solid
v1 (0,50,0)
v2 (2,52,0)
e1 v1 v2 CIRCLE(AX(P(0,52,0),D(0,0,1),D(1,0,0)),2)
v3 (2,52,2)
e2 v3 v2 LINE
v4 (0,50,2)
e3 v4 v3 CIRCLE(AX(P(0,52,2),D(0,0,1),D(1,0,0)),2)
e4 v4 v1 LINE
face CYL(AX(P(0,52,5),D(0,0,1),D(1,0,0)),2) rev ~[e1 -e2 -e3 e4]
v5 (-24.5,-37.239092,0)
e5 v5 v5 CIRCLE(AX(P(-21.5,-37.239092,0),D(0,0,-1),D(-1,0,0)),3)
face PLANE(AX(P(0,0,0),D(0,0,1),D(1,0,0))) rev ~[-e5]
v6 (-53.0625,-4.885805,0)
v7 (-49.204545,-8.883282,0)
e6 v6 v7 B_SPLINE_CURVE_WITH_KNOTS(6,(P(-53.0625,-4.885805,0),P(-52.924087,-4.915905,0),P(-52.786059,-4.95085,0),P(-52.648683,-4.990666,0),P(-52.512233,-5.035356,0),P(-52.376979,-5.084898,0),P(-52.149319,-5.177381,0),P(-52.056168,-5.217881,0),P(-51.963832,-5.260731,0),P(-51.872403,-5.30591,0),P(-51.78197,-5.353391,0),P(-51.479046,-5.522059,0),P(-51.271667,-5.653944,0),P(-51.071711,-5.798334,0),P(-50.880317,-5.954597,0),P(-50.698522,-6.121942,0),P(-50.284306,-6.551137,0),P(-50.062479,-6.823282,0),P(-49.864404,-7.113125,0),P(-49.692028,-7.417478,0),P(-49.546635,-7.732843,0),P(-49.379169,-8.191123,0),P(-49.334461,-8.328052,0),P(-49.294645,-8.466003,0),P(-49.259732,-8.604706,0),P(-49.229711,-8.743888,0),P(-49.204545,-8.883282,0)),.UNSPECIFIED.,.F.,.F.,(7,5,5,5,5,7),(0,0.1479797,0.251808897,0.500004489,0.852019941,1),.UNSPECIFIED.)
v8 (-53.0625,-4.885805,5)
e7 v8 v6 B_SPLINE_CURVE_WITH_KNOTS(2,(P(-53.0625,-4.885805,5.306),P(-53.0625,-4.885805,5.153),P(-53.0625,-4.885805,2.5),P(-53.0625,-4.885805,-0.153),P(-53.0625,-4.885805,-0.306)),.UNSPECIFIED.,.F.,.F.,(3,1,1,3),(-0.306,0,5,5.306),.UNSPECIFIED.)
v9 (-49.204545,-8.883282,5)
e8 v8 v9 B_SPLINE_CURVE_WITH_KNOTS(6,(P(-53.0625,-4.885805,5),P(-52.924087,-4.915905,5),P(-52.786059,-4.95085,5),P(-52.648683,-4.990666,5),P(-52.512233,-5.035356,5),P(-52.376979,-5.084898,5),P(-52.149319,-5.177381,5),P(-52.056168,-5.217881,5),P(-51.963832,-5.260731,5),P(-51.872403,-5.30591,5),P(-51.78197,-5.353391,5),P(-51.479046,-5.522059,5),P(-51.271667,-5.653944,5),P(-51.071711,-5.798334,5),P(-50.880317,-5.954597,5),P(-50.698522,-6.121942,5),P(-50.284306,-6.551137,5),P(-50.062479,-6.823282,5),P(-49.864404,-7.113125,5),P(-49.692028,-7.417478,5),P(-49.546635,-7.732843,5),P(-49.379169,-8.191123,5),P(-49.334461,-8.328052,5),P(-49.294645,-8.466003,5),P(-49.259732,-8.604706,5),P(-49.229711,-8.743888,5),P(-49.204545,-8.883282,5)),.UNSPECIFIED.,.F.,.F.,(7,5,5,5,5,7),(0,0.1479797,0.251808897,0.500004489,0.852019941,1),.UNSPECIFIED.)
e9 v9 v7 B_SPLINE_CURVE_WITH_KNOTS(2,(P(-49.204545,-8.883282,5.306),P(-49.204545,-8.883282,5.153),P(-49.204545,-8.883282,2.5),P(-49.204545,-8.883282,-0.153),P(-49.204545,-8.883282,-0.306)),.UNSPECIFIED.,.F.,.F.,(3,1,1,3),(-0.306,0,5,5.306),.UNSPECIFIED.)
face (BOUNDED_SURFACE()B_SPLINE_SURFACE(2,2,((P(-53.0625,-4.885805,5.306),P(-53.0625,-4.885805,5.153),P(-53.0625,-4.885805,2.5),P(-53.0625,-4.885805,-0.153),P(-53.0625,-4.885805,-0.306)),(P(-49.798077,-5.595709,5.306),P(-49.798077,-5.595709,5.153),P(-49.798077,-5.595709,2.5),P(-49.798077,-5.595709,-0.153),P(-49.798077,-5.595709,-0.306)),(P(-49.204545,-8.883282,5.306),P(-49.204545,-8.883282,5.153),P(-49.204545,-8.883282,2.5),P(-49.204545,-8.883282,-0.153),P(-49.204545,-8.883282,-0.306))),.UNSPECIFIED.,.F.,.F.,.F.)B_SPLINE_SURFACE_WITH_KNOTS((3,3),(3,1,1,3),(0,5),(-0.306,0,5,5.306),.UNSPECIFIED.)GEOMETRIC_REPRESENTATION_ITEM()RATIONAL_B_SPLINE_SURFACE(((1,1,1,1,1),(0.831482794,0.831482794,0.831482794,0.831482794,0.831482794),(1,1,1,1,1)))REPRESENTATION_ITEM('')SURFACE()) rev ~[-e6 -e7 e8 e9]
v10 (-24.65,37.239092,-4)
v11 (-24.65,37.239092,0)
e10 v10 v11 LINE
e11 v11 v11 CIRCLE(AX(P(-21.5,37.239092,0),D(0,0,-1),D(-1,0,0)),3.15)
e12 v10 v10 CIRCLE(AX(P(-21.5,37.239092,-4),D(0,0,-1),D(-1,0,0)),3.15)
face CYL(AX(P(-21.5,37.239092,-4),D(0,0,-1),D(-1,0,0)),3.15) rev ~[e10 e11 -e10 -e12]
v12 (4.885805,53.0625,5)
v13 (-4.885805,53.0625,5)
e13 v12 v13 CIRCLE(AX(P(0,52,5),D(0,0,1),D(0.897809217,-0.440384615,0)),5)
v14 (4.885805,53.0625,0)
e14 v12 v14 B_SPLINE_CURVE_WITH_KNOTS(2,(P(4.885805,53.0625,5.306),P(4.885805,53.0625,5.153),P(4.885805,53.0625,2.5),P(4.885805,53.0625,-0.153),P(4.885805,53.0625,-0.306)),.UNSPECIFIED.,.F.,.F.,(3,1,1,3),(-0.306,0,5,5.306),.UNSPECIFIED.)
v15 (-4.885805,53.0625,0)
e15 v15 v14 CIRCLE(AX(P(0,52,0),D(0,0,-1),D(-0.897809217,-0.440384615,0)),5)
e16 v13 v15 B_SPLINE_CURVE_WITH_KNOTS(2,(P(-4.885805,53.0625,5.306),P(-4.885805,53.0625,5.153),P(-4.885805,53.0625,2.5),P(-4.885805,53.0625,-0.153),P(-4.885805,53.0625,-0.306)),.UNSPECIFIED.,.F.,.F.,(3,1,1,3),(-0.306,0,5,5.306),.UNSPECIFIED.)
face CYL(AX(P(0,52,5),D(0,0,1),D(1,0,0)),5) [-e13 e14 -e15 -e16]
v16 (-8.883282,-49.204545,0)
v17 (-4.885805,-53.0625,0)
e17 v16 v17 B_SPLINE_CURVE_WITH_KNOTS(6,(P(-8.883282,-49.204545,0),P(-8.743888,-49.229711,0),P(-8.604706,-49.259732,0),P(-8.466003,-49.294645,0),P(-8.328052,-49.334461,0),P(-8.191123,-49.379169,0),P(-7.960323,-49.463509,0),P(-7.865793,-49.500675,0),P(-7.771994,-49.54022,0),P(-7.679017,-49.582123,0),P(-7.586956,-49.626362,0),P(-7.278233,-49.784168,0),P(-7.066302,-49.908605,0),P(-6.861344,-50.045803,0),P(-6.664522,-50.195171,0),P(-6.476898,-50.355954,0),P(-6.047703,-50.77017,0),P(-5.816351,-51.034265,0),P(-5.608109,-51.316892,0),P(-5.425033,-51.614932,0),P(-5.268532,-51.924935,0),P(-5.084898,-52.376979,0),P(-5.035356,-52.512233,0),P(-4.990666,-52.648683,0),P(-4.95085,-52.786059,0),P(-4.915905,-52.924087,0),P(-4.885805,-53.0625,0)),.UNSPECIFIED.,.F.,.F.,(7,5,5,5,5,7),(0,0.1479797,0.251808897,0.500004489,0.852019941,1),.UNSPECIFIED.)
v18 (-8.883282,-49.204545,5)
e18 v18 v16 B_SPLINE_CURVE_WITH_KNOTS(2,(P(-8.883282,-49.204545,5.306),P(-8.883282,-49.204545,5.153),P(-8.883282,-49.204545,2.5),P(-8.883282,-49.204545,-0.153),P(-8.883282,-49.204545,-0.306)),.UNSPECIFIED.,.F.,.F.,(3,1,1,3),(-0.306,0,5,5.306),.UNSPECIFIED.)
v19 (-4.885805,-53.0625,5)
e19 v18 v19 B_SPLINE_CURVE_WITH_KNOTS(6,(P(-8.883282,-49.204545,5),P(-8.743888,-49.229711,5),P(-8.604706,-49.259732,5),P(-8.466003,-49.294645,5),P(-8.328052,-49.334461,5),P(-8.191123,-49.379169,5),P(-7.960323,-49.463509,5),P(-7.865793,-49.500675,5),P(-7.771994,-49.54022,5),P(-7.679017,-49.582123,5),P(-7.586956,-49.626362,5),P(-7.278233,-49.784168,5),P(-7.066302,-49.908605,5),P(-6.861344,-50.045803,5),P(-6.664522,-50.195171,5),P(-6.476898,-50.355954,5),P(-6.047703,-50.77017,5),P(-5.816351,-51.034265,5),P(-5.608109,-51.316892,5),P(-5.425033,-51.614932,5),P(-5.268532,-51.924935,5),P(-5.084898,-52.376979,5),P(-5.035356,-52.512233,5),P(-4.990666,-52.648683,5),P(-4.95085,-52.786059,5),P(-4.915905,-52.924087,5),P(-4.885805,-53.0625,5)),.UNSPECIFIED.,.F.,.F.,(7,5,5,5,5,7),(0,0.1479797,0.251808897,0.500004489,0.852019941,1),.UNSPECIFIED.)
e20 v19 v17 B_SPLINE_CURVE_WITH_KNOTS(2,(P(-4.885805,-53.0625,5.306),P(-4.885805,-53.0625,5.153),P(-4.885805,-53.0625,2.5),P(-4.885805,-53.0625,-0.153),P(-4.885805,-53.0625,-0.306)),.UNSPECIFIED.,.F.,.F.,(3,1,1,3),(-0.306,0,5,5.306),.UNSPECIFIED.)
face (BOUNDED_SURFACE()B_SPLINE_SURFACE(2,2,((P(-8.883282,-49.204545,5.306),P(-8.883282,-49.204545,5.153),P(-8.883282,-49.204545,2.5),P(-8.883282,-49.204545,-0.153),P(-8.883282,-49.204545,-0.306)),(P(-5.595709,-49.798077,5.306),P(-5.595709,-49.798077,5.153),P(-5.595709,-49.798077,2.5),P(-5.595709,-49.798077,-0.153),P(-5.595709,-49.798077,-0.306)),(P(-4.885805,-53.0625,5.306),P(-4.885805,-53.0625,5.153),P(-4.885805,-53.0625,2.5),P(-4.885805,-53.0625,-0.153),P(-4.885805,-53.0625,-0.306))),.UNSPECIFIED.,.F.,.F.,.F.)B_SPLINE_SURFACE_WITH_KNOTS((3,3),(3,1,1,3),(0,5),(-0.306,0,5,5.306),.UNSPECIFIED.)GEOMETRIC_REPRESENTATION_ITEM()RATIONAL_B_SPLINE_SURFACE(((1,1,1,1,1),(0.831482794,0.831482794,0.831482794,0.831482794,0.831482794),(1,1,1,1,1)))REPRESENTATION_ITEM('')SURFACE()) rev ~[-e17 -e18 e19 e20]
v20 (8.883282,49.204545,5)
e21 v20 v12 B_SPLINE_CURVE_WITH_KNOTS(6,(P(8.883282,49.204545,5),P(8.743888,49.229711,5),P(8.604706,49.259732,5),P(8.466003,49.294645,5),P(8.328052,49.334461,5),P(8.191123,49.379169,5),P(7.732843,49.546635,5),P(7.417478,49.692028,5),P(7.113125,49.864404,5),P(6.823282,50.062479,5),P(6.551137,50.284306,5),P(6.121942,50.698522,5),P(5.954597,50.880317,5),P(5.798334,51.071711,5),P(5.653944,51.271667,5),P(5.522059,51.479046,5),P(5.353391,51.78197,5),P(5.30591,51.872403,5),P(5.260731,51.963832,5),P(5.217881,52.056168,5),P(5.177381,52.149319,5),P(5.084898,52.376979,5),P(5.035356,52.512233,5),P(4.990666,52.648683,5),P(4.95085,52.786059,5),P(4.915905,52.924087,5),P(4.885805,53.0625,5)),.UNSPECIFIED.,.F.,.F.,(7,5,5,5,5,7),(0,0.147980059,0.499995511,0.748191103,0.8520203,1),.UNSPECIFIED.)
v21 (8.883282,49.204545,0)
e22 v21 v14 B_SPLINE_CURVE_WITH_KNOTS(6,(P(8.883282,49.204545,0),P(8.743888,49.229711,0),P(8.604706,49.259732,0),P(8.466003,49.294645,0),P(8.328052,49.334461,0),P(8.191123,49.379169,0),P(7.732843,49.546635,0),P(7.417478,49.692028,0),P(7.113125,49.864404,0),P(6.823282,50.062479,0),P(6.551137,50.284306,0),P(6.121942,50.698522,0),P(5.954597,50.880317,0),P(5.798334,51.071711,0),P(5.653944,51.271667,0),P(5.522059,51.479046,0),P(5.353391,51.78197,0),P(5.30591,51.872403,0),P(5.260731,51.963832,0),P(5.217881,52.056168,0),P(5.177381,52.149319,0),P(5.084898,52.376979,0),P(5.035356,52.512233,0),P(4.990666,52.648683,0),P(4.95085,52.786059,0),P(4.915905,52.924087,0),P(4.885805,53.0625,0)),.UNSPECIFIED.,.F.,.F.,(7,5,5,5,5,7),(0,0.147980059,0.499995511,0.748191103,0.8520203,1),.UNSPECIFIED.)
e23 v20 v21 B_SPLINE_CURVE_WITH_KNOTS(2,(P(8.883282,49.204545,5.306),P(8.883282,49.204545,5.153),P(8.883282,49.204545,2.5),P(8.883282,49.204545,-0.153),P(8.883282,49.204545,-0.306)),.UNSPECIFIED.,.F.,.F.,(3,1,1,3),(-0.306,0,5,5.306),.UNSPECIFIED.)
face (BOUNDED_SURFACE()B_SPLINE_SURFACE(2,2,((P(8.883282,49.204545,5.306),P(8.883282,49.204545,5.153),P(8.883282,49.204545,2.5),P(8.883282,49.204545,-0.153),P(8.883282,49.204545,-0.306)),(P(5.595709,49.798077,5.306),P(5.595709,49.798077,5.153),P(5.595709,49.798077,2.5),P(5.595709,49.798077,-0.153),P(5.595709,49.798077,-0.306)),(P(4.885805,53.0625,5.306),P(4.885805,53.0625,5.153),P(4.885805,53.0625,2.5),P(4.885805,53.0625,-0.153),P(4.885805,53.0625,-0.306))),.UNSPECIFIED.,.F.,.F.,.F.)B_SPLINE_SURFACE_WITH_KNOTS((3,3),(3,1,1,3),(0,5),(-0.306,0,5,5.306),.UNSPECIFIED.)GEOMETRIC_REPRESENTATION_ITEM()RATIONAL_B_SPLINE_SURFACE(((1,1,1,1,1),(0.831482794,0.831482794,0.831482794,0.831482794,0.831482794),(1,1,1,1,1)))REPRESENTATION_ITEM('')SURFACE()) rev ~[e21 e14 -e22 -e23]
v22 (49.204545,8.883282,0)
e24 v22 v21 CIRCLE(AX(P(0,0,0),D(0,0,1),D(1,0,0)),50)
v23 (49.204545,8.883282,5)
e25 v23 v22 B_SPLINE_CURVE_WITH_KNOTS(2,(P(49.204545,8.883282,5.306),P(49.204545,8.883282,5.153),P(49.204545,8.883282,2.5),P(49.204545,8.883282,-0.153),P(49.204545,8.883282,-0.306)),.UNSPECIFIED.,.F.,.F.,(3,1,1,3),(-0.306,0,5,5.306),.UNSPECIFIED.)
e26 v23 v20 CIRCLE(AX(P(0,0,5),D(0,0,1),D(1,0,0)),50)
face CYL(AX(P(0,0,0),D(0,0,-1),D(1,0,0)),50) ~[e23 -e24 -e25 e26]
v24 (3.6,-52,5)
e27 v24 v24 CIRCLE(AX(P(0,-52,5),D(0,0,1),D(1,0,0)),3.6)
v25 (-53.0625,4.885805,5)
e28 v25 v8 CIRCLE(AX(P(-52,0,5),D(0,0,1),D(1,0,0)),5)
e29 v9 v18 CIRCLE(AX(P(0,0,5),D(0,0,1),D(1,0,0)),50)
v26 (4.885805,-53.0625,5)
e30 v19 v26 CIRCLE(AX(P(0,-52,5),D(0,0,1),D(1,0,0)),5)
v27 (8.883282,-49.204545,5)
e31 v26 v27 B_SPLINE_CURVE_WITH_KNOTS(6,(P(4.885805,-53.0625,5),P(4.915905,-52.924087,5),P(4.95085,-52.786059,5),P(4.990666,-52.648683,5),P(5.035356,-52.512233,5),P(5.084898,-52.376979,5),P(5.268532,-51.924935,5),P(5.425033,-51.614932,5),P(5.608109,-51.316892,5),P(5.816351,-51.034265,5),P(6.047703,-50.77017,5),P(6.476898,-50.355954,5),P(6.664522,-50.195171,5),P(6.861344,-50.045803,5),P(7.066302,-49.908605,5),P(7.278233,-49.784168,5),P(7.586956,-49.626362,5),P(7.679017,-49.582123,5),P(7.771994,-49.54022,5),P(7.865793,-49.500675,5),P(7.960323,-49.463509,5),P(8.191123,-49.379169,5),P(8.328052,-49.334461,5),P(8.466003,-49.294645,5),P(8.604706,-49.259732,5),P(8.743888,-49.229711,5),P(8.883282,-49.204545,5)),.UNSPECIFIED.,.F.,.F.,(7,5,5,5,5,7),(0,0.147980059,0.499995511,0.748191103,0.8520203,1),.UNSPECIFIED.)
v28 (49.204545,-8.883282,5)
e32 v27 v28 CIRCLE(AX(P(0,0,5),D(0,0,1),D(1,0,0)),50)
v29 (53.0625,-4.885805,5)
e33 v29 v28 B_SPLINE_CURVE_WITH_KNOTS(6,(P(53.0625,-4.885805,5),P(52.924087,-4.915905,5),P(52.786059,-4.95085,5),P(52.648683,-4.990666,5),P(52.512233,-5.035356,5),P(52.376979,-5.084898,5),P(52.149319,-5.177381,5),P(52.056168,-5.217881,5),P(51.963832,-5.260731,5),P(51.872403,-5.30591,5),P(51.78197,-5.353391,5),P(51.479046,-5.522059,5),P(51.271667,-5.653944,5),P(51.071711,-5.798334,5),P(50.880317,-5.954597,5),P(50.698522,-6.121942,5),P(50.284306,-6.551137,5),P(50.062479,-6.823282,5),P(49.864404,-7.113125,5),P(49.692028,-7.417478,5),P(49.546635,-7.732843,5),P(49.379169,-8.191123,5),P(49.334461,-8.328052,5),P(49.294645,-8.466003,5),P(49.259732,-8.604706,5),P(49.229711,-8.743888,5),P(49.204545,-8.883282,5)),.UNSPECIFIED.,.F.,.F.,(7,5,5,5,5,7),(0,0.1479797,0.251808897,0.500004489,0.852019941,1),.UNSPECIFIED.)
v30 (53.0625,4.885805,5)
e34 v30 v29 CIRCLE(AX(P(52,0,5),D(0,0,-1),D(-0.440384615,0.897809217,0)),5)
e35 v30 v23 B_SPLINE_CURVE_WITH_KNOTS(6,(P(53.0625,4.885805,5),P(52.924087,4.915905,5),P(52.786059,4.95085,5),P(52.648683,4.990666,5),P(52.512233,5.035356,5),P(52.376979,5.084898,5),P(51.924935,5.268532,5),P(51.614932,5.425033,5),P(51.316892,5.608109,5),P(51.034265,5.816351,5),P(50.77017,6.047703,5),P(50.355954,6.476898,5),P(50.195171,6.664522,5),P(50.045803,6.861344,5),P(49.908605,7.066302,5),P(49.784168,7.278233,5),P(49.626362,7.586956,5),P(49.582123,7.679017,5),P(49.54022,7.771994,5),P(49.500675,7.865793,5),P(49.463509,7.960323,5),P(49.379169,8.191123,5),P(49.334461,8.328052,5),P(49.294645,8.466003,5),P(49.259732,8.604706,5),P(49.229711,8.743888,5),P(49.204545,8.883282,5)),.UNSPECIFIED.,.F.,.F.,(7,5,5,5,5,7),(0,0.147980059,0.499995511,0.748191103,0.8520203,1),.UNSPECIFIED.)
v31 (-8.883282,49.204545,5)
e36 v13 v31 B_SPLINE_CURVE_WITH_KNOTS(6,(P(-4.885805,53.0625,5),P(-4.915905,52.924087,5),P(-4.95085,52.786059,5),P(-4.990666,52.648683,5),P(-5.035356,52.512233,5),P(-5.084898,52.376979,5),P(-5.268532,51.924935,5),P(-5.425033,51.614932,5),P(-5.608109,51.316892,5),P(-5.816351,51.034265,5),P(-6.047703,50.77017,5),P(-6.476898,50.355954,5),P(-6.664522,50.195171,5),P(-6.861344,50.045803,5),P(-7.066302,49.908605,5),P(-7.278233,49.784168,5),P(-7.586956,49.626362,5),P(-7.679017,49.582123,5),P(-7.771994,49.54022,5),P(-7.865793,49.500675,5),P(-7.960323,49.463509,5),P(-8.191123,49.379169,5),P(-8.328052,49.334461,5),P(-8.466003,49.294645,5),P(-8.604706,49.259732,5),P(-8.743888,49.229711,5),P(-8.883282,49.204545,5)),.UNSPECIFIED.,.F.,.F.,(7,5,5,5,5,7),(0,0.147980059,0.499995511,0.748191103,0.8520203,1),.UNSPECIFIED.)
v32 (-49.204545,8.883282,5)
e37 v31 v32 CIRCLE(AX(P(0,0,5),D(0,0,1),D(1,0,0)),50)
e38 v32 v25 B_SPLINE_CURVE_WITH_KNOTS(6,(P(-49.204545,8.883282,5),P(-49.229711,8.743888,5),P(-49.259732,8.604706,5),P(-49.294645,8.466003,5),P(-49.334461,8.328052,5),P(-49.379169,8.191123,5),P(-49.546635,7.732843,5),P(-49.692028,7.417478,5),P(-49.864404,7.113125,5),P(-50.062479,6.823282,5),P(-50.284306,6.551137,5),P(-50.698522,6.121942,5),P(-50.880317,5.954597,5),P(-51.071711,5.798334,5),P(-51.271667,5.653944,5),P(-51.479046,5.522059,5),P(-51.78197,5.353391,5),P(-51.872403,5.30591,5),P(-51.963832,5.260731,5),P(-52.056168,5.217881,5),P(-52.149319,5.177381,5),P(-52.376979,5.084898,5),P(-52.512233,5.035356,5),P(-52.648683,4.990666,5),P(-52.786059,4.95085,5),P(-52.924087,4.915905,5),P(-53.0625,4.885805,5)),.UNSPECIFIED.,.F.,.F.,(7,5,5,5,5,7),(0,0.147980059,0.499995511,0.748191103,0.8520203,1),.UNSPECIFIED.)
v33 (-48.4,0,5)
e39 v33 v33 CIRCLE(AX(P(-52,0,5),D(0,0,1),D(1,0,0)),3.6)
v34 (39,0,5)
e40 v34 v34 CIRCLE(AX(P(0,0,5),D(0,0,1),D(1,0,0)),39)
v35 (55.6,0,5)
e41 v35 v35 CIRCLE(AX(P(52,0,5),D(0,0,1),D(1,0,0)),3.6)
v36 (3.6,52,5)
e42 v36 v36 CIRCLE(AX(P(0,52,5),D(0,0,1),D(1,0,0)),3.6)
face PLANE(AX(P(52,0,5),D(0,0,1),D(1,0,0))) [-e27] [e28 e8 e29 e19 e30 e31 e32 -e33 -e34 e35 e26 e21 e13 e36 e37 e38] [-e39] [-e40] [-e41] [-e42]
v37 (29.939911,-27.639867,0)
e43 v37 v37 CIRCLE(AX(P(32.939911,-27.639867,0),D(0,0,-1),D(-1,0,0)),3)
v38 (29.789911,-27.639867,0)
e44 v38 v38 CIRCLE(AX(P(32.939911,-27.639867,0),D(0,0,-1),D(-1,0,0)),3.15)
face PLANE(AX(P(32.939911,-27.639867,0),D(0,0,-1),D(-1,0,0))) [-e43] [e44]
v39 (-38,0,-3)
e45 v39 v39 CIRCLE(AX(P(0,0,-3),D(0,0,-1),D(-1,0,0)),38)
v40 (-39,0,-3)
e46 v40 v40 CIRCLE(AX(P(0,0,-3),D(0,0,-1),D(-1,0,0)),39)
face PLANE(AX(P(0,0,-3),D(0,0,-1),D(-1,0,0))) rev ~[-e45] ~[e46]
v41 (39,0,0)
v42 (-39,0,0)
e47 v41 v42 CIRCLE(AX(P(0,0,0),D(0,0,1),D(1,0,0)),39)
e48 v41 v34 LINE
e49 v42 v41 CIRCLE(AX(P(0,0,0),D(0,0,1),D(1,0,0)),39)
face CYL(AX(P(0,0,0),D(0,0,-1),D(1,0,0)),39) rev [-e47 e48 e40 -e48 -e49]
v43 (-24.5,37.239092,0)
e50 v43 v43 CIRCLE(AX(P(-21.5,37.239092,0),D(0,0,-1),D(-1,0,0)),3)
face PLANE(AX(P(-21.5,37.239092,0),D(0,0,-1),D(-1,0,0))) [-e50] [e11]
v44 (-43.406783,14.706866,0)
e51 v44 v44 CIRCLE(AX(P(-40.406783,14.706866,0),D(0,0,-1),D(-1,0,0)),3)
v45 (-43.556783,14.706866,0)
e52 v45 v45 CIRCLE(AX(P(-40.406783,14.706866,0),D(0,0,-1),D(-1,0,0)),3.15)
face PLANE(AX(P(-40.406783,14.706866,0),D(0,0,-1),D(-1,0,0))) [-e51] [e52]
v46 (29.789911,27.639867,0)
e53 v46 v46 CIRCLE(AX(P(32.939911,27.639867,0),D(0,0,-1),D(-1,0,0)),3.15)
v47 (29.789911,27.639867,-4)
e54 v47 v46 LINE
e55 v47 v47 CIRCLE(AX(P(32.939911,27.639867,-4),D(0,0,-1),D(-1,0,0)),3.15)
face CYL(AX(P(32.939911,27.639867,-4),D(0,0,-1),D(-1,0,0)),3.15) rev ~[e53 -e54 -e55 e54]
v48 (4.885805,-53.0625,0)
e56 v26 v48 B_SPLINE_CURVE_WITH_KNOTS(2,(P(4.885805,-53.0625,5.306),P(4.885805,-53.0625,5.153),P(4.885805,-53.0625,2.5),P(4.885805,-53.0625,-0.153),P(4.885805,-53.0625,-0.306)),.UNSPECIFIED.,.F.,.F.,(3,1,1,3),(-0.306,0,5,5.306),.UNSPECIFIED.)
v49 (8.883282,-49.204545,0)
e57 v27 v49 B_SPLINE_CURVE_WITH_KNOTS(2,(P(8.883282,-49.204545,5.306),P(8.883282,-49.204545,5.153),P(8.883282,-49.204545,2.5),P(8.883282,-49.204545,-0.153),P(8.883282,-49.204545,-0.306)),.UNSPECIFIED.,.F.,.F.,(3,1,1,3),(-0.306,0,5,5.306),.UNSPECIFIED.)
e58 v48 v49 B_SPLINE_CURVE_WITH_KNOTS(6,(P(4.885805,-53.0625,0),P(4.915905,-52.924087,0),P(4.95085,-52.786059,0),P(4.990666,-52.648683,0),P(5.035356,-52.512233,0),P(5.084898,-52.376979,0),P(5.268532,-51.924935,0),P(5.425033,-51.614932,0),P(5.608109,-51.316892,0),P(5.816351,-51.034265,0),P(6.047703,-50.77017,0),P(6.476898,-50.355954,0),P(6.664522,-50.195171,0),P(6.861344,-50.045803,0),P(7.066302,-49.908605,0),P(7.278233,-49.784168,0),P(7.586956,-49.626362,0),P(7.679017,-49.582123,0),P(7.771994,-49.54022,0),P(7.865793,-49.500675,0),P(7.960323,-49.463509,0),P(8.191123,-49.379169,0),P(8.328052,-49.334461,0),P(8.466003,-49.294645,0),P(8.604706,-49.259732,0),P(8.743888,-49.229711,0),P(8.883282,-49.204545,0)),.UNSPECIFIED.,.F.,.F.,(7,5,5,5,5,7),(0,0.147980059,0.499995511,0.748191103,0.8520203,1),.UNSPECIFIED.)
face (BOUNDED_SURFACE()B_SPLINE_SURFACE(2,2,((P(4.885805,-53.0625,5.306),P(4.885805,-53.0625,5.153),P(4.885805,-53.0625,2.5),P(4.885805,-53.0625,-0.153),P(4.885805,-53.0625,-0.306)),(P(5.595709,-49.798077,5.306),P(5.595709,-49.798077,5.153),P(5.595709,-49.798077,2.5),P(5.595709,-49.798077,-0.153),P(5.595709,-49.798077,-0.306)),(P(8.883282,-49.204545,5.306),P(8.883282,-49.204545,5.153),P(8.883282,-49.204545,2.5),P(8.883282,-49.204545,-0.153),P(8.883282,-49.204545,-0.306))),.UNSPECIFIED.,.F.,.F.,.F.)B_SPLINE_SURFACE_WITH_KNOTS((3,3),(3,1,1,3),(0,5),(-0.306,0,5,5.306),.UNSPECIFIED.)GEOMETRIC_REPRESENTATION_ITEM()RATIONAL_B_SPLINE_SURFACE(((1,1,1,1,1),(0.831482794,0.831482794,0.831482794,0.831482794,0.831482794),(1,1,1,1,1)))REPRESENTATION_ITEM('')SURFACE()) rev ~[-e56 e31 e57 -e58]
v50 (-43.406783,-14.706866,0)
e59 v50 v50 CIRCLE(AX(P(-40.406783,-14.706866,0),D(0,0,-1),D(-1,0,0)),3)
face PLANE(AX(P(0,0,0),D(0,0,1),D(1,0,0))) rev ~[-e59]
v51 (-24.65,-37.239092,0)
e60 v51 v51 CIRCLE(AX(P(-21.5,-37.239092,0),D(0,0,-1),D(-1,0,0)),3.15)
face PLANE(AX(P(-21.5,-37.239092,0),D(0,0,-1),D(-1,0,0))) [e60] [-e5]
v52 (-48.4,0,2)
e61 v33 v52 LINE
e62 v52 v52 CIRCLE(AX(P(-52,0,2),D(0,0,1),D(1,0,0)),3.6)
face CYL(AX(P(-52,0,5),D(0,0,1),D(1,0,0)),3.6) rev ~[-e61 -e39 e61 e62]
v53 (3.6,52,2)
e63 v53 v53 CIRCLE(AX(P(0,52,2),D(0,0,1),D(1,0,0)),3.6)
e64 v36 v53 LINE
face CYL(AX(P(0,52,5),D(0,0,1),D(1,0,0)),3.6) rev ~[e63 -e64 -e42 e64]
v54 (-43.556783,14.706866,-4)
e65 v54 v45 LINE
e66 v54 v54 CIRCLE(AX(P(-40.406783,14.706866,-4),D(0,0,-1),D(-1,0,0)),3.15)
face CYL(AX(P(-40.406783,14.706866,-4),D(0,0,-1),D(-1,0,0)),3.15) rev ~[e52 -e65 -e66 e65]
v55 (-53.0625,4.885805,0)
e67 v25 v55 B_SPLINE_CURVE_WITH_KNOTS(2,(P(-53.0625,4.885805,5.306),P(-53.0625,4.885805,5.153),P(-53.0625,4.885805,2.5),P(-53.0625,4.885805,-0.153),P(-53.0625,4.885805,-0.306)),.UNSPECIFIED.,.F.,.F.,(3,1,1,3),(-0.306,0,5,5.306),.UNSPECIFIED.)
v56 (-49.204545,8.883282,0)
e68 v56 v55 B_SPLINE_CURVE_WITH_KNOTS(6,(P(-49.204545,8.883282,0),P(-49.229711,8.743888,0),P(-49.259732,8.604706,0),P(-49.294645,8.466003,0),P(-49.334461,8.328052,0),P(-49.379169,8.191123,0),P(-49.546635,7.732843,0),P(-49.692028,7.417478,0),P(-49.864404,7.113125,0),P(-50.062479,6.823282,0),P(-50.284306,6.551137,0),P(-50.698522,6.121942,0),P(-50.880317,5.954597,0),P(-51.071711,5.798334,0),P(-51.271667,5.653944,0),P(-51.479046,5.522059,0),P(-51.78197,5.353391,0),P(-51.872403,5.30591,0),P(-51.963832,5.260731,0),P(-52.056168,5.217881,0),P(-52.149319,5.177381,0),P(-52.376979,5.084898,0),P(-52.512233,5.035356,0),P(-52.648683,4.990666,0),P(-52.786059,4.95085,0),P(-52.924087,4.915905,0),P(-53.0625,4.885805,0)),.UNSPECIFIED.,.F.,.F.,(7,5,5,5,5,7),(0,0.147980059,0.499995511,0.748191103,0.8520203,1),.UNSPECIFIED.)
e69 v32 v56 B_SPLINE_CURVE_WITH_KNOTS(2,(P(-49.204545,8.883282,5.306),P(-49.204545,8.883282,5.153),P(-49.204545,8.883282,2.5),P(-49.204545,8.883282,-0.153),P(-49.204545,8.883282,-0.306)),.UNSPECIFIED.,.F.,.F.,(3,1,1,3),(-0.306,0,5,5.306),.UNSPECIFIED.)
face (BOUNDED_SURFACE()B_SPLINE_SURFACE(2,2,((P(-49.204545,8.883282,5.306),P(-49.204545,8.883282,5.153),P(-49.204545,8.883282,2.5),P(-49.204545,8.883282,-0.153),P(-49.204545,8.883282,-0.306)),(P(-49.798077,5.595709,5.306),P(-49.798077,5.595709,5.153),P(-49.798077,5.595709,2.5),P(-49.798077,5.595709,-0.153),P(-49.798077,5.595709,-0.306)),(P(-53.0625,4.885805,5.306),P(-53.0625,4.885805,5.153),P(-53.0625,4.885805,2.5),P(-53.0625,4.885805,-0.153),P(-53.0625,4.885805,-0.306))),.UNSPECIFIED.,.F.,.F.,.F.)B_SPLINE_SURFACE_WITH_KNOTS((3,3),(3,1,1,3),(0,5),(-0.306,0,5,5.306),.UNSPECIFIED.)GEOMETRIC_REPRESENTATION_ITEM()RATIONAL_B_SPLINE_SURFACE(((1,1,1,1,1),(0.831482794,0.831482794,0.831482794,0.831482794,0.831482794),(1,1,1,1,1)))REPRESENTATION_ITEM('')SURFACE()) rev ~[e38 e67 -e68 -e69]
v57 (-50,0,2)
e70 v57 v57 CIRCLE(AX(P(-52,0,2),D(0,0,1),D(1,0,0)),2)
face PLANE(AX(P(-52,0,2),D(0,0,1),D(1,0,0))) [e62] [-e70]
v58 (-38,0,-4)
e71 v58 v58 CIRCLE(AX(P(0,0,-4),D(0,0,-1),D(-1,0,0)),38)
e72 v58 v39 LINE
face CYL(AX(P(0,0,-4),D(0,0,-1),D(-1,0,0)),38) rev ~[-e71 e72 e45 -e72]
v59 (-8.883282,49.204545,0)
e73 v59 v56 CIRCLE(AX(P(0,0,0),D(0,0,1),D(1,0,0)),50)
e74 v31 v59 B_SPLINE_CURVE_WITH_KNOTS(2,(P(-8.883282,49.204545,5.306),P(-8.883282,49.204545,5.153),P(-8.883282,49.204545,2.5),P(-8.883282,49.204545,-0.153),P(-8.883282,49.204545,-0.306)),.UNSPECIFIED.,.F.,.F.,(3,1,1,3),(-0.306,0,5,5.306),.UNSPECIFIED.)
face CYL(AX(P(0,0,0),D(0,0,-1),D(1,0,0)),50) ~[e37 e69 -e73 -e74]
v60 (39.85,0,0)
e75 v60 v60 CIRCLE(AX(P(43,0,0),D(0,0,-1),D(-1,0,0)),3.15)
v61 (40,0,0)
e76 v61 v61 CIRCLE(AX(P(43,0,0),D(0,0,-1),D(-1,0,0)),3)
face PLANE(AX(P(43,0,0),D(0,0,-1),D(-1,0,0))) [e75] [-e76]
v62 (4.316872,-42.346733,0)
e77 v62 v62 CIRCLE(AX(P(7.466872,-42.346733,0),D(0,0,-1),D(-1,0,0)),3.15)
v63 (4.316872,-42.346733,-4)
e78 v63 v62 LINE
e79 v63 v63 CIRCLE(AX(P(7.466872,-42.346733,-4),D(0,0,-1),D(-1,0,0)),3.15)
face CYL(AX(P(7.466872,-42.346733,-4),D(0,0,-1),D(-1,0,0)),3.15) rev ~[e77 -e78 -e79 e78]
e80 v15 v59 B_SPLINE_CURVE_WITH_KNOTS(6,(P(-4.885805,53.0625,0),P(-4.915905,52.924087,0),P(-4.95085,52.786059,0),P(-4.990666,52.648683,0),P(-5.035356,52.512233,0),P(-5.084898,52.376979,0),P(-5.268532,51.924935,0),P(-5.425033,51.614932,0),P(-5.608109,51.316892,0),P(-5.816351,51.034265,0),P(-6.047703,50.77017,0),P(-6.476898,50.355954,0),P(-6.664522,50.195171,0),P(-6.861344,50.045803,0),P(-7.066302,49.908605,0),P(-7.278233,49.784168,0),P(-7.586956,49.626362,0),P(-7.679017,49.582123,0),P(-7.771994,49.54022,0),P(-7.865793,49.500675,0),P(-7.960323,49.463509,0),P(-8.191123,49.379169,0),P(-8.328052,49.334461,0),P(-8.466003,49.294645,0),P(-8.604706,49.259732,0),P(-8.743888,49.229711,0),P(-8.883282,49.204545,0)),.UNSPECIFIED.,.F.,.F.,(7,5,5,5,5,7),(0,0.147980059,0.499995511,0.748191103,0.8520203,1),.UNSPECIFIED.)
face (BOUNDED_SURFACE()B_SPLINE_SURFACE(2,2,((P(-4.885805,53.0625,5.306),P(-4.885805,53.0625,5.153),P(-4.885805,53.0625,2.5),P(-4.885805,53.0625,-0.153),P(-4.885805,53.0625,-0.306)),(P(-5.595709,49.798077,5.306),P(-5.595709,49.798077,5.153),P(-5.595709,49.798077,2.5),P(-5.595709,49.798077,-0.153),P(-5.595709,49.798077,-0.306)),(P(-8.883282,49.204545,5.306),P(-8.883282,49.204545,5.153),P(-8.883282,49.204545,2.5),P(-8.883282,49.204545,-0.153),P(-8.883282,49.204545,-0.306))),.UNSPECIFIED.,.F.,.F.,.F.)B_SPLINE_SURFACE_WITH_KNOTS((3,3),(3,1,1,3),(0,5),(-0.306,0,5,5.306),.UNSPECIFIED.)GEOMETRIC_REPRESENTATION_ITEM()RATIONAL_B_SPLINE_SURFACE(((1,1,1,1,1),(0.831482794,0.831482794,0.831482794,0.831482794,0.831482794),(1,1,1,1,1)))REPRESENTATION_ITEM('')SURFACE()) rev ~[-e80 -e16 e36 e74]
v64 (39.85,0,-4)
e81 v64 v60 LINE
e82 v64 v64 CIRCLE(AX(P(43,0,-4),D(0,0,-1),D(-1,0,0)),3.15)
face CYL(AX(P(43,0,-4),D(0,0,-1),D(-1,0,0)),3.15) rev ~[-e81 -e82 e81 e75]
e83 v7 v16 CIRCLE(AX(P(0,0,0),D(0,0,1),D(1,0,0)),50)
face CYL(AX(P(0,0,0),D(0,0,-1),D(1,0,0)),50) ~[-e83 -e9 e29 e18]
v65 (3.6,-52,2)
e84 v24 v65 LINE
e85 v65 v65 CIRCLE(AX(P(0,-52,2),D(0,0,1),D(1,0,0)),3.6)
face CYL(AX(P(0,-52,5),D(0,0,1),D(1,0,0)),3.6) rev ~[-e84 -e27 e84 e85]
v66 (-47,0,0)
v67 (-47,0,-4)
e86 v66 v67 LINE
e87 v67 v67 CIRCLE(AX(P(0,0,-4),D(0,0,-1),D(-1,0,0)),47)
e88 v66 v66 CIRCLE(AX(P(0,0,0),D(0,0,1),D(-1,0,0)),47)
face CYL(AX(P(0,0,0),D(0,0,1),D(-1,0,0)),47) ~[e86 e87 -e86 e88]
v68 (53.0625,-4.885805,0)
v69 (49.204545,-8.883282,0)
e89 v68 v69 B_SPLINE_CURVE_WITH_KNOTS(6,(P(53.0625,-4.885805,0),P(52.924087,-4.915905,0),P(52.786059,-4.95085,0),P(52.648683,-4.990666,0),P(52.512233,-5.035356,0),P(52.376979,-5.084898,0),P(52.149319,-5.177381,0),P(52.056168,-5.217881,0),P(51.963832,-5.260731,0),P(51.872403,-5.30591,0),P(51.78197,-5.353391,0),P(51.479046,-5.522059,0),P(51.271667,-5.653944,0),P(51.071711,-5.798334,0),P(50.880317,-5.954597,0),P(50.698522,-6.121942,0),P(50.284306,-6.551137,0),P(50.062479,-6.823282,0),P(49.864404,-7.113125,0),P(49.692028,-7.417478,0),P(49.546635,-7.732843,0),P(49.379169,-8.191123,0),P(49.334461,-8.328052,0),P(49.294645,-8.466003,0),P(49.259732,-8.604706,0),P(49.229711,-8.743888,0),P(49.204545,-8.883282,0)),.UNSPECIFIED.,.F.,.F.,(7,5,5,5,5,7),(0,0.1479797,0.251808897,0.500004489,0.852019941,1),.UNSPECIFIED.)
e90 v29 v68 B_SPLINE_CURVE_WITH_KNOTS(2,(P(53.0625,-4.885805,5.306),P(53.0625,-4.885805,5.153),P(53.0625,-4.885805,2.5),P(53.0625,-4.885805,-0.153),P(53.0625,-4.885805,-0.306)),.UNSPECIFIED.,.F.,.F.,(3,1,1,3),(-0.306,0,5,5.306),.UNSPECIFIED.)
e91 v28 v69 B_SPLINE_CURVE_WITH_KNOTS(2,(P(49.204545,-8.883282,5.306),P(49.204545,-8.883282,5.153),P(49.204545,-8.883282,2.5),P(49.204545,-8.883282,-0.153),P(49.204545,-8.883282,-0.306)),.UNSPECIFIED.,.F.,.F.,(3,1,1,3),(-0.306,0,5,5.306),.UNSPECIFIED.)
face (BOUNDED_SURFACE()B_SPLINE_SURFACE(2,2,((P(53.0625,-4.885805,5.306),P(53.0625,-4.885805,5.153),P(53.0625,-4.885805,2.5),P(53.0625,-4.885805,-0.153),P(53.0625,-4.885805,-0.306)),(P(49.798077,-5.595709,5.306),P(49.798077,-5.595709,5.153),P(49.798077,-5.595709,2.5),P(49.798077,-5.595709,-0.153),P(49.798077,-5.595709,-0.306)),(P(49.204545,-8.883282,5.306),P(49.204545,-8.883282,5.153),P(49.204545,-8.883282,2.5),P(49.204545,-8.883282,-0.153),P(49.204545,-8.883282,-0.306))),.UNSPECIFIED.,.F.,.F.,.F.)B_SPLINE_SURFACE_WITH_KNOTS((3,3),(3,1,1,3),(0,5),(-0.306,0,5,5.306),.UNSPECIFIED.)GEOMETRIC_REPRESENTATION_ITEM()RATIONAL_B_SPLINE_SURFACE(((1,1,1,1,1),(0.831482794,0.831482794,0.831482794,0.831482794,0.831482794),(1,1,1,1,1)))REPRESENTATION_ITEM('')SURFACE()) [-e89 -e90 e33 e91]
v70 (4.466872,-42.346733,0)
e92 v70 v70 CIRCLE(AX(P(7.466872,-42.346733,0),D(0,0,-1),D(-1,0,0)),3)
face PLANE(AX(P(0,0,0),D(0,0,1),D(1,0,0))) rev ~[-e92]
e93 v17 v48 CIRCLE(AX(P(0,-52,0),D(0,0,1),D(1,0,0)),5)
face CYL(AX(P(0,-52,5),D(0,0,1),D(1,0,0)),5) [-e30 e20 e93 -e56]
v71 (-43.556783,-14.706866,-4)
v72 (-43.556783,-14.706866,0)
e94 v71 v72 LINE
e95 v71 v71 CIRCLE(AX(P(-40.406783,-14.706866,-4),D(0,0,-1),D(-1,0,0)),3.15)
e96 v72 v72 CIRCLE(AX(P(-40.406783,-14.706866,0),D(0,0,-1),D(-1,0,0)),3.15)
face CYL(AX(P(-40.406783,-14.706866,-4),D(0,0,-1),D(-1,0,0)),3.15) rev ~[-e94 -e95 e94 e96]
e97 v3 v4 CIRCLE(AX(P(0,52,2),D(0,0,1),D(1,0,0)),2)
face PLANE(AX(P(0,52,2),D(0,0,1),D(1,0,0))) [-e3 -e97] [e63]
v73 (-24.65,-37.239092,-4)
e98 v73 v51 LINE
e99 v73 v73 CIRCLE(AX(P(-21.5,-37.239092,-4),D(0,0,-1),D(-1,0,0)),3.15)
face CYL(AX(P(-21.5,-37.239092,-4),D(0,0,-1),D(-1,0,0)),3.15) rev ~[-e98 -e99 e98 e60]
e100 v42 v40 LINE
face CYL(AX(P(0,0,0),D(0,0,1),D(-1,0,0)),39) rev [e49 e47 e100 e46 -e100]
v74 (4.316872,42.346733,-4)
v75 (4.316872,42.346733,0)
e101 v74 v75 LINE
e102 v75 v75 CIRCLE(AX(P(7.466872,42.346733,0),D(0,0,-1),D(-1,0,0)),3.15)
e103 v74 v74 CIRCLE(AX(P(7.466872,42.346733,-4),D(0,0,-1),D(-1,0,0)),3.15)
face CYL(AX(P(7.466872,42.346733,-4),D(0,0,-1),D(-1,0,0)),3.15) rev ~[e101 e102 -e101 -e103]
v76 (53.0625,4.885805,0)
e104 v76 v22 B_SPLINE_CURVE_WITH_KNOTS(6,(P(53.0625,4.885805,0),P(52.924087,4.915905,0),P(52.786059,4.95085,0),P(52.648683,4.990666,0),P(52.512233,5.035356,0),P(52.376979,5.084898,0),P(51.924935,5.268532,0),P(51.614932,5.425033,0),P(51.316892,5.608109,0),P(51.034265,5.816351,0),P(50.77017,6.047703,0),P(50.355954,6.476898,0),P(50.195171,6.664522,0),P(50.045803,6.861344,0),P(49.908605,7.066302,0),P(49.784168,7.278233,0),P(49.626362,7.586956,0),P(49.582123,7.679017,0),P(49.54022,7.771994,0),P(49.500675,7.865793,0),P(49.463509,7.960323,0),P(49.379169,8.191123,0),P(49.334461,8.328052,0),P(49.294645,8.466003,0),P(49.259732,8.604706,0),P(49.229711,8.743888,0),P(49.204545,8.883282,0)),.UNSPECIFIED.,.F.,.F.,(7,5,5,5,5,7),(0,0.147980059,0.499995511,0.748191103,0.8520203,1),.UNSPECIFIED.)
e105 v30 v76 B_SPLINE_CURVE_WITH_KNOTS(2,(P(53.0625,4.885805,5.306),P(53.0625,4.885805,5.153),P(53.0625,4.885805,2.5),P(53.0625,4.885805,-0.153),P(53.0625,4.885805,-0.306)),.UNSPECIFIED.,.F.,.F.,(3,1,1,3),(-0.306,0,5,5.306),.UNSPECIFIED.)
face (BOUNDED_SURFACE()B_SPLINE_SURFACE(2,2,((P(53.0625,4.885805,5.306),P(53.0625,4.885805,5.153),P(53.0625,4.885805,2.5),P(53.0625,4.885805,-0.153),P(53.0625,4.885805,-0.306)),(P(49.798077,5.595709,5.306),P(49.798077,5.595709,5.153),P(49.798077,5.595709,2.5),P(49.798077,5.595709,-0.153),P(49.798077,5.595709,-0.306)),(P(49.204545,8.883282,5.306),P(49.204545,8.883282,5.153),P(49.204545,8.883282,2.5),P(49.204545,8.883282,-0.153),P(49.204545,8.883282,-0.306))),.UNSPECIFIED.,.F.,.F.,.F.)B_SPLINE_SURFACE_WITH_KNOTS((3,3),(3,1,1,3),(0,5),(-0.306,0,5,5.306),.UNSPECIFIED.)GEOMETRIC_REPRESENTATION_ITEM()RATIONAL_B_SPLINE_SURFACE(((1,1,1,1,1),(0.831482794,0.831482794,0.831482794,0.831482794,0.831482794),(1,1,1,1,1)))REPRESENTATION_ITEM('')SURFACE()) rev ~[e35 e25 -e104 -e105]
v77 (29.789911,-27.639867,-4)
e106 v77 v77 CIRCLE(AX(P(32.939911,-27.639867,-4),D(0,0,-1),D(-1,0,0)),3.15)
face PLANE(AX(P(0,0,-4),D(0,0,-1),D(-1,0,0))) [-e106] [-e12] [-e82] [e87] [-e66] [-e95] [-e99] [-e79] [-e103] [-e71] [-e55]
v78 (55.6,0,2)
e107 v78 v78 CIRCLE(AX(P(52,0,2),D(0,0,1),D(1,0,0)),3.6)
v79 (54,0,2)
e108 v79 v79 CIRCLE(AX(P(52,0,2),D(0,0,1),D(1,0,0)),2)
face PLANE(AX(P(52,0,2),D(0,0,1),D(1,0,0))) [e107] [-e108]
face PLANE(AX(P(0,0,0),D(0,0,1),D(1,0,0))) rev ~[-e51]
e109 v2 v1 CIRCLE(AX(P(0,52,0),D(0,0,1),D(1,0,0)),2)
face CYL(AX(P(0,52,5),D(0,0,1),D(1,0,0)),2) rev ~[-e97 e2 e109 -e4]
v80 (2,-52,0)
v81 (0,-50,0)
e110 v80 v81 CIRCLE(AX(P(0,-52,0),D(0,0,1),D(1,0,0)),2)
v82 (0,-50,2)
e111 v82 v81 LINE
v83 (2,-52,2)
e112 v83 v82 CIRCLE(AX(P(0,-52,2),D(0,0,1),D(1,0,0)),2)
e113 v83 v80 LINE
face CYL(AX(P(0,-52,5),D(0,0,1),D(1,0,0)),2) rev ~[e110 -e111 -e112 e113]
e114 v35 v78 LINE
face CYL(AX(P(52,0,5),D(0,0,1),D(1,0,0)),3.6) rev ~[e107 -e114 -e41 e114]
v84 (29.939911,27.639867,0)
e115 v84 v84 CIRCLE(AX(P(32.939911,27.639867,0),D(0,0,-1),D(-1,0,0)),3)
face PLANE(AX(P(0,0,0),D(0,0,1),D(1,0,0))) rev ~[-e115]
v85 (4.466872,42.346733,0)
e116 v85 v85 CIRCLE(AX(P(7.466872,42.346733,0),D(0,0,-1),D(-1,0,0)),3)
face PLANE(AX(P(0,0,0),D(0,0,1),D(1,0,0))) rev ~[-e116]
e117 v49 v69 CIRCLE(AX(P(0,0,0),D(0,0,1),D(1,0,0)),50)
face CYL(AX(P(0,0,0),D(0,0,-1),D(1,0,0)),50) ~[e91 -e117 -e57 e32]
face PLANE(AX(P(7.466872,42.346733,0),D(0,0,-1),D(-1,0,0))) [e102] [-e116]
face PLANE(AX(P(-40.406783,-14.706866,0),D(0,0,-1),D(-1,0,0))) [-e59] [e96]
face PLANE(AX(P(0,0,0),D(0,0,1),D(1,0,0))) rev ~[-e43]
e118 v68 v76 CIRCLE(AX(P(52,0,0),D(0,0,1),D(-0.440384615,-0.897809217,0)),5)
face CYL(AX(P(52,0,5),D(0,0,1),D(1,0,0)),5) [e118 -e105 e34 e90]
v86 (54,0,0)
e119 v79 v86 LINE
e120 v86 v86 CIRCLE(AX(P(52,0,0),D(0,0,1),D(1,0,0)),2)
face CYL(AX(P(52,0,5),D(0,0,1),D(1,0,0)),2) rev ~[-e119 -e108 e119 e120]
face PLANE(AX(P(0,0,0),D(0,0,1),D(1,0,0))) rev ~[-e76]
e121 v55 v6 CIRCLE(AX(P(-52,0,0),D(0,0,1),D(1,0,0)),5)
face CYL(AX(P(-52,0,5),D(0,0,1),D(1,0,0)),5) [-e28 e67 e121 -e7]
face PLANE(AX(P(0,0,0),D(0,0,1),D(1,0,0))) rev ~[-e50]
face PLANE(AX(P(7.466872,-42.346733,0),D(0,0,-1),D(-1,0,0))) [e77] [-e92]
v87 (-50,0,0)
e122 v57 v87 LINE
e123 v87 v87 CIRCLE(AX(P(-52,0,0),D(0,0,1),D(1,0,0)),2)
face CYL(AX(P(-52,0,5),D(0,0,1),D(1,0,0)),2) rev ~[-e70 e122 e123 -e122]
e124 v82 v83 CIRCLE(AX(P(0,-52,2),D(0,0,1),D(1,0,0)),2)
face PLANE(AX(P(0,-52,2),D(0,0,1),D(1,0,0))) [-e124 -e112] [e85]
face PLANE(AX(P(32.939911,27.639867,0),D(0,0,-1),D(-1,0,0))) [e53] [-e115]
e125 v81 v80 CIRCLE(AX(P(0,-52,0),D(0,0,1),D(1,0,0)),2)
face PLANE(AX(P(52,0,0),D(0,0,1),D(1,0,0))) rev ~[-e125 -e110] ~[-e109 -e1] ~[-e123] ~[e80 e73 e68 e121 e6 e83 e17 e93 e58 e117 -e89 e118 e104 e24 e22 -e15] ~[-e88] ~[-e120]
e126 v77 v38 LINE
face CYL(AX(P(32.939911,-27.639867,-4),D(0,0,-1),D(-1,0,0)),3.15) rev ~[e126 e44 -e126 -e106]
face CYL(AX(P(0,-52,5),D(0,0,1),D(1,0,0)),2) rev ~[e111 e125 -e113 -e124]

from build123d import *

# Parameters (mm, degrees)
SKETCH2_R           = 50
SKETCH2_R_2         = 39
BOSS_EXTRUDE1_DEPTH = 5
SKETCH3_R           = 47
SKETCH3_R_2         = 3
SKETCH3_R_3         = 39
BOSS_EXTRUDE2_DEPTH = 4
SKETCH4_R           = 39
SKETCH4_R_2         = 38
BOSS_EXTRUDE3_DEPTH = 1
SKETCH6_R           = 5
SKETCH6_R_2         = 2
BOSS_EXTRUDE4_DEPTH = 5
FILLET1_R           = 5
SKETCH7_R           = 3.6
CUT_EXTRUDE1_DEPTH  = 3
SKETCH8_R           = 3.15
CUT_EXTRUDE2_DEPTH  = 4


with BuildPart() as part:
    # Sketch2 → Boss-Extrude1 (new body)
    with BuildSketch(Plane.XY):
        Circle(SKETCH2_R)
        Circle(SKETCH2_R_2, mode=Mode.SUBTRACT)
    extrude(amount=BOSS_EXTRUDE1_DEPTH)

    # Sketch3 → Boss-Extrude2 (add)
    with BuildSketch(Plane(origin=(0, 0, 0), x_dir=(-1, 0, 0), z_dir=(0, 0, -1))):
        Circle(SKETCH3_R)
        with Locations((-43, 0)):
            Circle(SKETCH3_R_2, mode=Mode.SUBTRACT)
        Circle(SKETCH3_R_3, mode=Mode.SUBTRACT)
        with Locations((-32.939911054, 27.639867217)):
            Circle(SKETCH3_R_2, mode=Mode.SUBTRACT)
        with Locations((-7.46687164, 42.34673338)):
            Circle(SKETCH3_R_2, mode=Mode.SUBTRACT)
        with Locations((21.5, 37.239092363)):
            Circle(SKETCH3_R_2, mode=Mode.SUBTRACT)
        with Locations((40.406782694, 14.706866163)):
            Circle(SKETCH3_R_2, mode=Mode.SUBTRACT)
        with Locations((40.406782694, -14.706866163)):
            Circle(SKETCH3_R_2, mode=Mode.SUBTRACT)
        with Locations((21.5, -37.239092363)):
            Circle(SKETCH3_R_2, mode=Mode.SUBTRACT)
        with Locations((-7.46687164, -42.34673338)):
            Circle(SKETCH3_R_2, mode=Mode.SUBTRACT)
        with Locations((-32.939911054, -27.639867217)):
            Circle(SKETCH3_R_2, mode=Mode.SUBTRACT)
    extrude(amount=BOSS_EXTRUDE2_DEPTH)

    # Sketch4 → Boss-Extrude3 (add)
    with BuildSketch(Plane(origin=(0, 0, -4), x_dir=(-1, 0, 0), z_dir=(0, 0, -1))):
        Circle(SKETCH4_R)
        Circle(SKETCH4_R_2, mode=Mode.SUBTRACT)
    extrude(amount=-BOSS_EXTRUDE3_DEPTH)

    # Sketch6 → Boss-Extrude4 (add)
    with BuildSketch(Plane.XY.offset(5)):
        with Locations((52, 0)):
            Circle(SKETCH6_R)
        with Locations((52, 0)):
            Circle(SKETCH6_R_2, mode=Mode.SUBTRACT)
        with Locations((-52, 0)):
            Circle(SKETCH6_R)
        with Locations((-52, 0)):
            Circle(SKETCH6_R_2, mode=Mode.SUBTRACT)
        with Locations((0, 52)):
            Circle(SKETCH6_R)
        with Locations((0, 52)):
            Circle(SKETCH6_R_2, mode=Mode.SUBTRACT)
        with Locations((0, -52)):
            Circle(SKETCH6_R)
        with Locations((0, -52)):
            Circle(SKETCH6_R_2, mode=Mode.SUBTRACT)
    extrude(amount=-BOSS_EXTRUDE4_DEPTH)

    # Fillet1
    fillet1_edges = [part.edges().sort_by_distance(p)[0] for p in [
        (49.798076923, -4.489046086, 2.5),
        (49.798076923, 4.489046086, 2.5),
        (-49.798076923, 4.489046086, 2.5),
        (-49.798076923, -4.489046086, 2.5),
        (4.489046086, 49.798076923, 2.5),
        (-4.489046086, 49.798076923, 2.5),
        (-4.489046086, -49.798076923, 2.5),
        (4.489046086, -49.798076923, 2.5),
    ]]
    fillet(fillet1_edges, radius=FILLET1_R)

    # Sketch7 → Cut-Extrude1 (cut)
    with BuildSketch(Plane.XY.offset(5)):
        with Locations((52, 0)):
            Circle(SKETCH7_R)
        with Locations((0, 52)):
            Circle(SKETCH7_R)
        with Locations((-52, 0)):
            Circle(SKETCH7_R)
        with Locations((0, -52)):
            Circle(SKETCH7_R)
    extrude(amount=-CUT_EXTRUDE1_DEPTH, mode=Mode.SUBTRACT)

    # Sketch8 → Cut-Extrude2 (cut)
    with BuildSketch(Plane(origin=(0, 0, -4), x_dir=(-1, 0, 0), z_dir=(0, 0, -1))):
        with Locations((-32.939911054, 27.639867217)):
            Circle(SKETCH8_R)
        with Locations((-43, 0)):
            Circle(SKETCH8_R)
        with Locations((-7.46687164, 42.34673338)):
            Circle(SKETCH8_R)
        with Locations((21.5, 37.239092363)):
            Circle(SKETCH8_R)
        with Locations((40.406782694, 14.706866163)):
            Circle(SKETCH8_R)
        with Locations((40.406782694, -14.706866163)):
            Circle(SKETCH8_R)
        with Locations((21.5, -37.239092363)):
            Circle(SKETCH8_R)
        with Locations((-7.46687164, -42.34673338)):
            Circle(SKETCH8_R)
        with Locations((-32.939911054, -27.639867217)):
            Circle(SKETCH8_R)
    extrude(amount=-CUT_EXTRUDE2_DEPTH, mode=Mode.SUBTRACT)


solid = part.part
